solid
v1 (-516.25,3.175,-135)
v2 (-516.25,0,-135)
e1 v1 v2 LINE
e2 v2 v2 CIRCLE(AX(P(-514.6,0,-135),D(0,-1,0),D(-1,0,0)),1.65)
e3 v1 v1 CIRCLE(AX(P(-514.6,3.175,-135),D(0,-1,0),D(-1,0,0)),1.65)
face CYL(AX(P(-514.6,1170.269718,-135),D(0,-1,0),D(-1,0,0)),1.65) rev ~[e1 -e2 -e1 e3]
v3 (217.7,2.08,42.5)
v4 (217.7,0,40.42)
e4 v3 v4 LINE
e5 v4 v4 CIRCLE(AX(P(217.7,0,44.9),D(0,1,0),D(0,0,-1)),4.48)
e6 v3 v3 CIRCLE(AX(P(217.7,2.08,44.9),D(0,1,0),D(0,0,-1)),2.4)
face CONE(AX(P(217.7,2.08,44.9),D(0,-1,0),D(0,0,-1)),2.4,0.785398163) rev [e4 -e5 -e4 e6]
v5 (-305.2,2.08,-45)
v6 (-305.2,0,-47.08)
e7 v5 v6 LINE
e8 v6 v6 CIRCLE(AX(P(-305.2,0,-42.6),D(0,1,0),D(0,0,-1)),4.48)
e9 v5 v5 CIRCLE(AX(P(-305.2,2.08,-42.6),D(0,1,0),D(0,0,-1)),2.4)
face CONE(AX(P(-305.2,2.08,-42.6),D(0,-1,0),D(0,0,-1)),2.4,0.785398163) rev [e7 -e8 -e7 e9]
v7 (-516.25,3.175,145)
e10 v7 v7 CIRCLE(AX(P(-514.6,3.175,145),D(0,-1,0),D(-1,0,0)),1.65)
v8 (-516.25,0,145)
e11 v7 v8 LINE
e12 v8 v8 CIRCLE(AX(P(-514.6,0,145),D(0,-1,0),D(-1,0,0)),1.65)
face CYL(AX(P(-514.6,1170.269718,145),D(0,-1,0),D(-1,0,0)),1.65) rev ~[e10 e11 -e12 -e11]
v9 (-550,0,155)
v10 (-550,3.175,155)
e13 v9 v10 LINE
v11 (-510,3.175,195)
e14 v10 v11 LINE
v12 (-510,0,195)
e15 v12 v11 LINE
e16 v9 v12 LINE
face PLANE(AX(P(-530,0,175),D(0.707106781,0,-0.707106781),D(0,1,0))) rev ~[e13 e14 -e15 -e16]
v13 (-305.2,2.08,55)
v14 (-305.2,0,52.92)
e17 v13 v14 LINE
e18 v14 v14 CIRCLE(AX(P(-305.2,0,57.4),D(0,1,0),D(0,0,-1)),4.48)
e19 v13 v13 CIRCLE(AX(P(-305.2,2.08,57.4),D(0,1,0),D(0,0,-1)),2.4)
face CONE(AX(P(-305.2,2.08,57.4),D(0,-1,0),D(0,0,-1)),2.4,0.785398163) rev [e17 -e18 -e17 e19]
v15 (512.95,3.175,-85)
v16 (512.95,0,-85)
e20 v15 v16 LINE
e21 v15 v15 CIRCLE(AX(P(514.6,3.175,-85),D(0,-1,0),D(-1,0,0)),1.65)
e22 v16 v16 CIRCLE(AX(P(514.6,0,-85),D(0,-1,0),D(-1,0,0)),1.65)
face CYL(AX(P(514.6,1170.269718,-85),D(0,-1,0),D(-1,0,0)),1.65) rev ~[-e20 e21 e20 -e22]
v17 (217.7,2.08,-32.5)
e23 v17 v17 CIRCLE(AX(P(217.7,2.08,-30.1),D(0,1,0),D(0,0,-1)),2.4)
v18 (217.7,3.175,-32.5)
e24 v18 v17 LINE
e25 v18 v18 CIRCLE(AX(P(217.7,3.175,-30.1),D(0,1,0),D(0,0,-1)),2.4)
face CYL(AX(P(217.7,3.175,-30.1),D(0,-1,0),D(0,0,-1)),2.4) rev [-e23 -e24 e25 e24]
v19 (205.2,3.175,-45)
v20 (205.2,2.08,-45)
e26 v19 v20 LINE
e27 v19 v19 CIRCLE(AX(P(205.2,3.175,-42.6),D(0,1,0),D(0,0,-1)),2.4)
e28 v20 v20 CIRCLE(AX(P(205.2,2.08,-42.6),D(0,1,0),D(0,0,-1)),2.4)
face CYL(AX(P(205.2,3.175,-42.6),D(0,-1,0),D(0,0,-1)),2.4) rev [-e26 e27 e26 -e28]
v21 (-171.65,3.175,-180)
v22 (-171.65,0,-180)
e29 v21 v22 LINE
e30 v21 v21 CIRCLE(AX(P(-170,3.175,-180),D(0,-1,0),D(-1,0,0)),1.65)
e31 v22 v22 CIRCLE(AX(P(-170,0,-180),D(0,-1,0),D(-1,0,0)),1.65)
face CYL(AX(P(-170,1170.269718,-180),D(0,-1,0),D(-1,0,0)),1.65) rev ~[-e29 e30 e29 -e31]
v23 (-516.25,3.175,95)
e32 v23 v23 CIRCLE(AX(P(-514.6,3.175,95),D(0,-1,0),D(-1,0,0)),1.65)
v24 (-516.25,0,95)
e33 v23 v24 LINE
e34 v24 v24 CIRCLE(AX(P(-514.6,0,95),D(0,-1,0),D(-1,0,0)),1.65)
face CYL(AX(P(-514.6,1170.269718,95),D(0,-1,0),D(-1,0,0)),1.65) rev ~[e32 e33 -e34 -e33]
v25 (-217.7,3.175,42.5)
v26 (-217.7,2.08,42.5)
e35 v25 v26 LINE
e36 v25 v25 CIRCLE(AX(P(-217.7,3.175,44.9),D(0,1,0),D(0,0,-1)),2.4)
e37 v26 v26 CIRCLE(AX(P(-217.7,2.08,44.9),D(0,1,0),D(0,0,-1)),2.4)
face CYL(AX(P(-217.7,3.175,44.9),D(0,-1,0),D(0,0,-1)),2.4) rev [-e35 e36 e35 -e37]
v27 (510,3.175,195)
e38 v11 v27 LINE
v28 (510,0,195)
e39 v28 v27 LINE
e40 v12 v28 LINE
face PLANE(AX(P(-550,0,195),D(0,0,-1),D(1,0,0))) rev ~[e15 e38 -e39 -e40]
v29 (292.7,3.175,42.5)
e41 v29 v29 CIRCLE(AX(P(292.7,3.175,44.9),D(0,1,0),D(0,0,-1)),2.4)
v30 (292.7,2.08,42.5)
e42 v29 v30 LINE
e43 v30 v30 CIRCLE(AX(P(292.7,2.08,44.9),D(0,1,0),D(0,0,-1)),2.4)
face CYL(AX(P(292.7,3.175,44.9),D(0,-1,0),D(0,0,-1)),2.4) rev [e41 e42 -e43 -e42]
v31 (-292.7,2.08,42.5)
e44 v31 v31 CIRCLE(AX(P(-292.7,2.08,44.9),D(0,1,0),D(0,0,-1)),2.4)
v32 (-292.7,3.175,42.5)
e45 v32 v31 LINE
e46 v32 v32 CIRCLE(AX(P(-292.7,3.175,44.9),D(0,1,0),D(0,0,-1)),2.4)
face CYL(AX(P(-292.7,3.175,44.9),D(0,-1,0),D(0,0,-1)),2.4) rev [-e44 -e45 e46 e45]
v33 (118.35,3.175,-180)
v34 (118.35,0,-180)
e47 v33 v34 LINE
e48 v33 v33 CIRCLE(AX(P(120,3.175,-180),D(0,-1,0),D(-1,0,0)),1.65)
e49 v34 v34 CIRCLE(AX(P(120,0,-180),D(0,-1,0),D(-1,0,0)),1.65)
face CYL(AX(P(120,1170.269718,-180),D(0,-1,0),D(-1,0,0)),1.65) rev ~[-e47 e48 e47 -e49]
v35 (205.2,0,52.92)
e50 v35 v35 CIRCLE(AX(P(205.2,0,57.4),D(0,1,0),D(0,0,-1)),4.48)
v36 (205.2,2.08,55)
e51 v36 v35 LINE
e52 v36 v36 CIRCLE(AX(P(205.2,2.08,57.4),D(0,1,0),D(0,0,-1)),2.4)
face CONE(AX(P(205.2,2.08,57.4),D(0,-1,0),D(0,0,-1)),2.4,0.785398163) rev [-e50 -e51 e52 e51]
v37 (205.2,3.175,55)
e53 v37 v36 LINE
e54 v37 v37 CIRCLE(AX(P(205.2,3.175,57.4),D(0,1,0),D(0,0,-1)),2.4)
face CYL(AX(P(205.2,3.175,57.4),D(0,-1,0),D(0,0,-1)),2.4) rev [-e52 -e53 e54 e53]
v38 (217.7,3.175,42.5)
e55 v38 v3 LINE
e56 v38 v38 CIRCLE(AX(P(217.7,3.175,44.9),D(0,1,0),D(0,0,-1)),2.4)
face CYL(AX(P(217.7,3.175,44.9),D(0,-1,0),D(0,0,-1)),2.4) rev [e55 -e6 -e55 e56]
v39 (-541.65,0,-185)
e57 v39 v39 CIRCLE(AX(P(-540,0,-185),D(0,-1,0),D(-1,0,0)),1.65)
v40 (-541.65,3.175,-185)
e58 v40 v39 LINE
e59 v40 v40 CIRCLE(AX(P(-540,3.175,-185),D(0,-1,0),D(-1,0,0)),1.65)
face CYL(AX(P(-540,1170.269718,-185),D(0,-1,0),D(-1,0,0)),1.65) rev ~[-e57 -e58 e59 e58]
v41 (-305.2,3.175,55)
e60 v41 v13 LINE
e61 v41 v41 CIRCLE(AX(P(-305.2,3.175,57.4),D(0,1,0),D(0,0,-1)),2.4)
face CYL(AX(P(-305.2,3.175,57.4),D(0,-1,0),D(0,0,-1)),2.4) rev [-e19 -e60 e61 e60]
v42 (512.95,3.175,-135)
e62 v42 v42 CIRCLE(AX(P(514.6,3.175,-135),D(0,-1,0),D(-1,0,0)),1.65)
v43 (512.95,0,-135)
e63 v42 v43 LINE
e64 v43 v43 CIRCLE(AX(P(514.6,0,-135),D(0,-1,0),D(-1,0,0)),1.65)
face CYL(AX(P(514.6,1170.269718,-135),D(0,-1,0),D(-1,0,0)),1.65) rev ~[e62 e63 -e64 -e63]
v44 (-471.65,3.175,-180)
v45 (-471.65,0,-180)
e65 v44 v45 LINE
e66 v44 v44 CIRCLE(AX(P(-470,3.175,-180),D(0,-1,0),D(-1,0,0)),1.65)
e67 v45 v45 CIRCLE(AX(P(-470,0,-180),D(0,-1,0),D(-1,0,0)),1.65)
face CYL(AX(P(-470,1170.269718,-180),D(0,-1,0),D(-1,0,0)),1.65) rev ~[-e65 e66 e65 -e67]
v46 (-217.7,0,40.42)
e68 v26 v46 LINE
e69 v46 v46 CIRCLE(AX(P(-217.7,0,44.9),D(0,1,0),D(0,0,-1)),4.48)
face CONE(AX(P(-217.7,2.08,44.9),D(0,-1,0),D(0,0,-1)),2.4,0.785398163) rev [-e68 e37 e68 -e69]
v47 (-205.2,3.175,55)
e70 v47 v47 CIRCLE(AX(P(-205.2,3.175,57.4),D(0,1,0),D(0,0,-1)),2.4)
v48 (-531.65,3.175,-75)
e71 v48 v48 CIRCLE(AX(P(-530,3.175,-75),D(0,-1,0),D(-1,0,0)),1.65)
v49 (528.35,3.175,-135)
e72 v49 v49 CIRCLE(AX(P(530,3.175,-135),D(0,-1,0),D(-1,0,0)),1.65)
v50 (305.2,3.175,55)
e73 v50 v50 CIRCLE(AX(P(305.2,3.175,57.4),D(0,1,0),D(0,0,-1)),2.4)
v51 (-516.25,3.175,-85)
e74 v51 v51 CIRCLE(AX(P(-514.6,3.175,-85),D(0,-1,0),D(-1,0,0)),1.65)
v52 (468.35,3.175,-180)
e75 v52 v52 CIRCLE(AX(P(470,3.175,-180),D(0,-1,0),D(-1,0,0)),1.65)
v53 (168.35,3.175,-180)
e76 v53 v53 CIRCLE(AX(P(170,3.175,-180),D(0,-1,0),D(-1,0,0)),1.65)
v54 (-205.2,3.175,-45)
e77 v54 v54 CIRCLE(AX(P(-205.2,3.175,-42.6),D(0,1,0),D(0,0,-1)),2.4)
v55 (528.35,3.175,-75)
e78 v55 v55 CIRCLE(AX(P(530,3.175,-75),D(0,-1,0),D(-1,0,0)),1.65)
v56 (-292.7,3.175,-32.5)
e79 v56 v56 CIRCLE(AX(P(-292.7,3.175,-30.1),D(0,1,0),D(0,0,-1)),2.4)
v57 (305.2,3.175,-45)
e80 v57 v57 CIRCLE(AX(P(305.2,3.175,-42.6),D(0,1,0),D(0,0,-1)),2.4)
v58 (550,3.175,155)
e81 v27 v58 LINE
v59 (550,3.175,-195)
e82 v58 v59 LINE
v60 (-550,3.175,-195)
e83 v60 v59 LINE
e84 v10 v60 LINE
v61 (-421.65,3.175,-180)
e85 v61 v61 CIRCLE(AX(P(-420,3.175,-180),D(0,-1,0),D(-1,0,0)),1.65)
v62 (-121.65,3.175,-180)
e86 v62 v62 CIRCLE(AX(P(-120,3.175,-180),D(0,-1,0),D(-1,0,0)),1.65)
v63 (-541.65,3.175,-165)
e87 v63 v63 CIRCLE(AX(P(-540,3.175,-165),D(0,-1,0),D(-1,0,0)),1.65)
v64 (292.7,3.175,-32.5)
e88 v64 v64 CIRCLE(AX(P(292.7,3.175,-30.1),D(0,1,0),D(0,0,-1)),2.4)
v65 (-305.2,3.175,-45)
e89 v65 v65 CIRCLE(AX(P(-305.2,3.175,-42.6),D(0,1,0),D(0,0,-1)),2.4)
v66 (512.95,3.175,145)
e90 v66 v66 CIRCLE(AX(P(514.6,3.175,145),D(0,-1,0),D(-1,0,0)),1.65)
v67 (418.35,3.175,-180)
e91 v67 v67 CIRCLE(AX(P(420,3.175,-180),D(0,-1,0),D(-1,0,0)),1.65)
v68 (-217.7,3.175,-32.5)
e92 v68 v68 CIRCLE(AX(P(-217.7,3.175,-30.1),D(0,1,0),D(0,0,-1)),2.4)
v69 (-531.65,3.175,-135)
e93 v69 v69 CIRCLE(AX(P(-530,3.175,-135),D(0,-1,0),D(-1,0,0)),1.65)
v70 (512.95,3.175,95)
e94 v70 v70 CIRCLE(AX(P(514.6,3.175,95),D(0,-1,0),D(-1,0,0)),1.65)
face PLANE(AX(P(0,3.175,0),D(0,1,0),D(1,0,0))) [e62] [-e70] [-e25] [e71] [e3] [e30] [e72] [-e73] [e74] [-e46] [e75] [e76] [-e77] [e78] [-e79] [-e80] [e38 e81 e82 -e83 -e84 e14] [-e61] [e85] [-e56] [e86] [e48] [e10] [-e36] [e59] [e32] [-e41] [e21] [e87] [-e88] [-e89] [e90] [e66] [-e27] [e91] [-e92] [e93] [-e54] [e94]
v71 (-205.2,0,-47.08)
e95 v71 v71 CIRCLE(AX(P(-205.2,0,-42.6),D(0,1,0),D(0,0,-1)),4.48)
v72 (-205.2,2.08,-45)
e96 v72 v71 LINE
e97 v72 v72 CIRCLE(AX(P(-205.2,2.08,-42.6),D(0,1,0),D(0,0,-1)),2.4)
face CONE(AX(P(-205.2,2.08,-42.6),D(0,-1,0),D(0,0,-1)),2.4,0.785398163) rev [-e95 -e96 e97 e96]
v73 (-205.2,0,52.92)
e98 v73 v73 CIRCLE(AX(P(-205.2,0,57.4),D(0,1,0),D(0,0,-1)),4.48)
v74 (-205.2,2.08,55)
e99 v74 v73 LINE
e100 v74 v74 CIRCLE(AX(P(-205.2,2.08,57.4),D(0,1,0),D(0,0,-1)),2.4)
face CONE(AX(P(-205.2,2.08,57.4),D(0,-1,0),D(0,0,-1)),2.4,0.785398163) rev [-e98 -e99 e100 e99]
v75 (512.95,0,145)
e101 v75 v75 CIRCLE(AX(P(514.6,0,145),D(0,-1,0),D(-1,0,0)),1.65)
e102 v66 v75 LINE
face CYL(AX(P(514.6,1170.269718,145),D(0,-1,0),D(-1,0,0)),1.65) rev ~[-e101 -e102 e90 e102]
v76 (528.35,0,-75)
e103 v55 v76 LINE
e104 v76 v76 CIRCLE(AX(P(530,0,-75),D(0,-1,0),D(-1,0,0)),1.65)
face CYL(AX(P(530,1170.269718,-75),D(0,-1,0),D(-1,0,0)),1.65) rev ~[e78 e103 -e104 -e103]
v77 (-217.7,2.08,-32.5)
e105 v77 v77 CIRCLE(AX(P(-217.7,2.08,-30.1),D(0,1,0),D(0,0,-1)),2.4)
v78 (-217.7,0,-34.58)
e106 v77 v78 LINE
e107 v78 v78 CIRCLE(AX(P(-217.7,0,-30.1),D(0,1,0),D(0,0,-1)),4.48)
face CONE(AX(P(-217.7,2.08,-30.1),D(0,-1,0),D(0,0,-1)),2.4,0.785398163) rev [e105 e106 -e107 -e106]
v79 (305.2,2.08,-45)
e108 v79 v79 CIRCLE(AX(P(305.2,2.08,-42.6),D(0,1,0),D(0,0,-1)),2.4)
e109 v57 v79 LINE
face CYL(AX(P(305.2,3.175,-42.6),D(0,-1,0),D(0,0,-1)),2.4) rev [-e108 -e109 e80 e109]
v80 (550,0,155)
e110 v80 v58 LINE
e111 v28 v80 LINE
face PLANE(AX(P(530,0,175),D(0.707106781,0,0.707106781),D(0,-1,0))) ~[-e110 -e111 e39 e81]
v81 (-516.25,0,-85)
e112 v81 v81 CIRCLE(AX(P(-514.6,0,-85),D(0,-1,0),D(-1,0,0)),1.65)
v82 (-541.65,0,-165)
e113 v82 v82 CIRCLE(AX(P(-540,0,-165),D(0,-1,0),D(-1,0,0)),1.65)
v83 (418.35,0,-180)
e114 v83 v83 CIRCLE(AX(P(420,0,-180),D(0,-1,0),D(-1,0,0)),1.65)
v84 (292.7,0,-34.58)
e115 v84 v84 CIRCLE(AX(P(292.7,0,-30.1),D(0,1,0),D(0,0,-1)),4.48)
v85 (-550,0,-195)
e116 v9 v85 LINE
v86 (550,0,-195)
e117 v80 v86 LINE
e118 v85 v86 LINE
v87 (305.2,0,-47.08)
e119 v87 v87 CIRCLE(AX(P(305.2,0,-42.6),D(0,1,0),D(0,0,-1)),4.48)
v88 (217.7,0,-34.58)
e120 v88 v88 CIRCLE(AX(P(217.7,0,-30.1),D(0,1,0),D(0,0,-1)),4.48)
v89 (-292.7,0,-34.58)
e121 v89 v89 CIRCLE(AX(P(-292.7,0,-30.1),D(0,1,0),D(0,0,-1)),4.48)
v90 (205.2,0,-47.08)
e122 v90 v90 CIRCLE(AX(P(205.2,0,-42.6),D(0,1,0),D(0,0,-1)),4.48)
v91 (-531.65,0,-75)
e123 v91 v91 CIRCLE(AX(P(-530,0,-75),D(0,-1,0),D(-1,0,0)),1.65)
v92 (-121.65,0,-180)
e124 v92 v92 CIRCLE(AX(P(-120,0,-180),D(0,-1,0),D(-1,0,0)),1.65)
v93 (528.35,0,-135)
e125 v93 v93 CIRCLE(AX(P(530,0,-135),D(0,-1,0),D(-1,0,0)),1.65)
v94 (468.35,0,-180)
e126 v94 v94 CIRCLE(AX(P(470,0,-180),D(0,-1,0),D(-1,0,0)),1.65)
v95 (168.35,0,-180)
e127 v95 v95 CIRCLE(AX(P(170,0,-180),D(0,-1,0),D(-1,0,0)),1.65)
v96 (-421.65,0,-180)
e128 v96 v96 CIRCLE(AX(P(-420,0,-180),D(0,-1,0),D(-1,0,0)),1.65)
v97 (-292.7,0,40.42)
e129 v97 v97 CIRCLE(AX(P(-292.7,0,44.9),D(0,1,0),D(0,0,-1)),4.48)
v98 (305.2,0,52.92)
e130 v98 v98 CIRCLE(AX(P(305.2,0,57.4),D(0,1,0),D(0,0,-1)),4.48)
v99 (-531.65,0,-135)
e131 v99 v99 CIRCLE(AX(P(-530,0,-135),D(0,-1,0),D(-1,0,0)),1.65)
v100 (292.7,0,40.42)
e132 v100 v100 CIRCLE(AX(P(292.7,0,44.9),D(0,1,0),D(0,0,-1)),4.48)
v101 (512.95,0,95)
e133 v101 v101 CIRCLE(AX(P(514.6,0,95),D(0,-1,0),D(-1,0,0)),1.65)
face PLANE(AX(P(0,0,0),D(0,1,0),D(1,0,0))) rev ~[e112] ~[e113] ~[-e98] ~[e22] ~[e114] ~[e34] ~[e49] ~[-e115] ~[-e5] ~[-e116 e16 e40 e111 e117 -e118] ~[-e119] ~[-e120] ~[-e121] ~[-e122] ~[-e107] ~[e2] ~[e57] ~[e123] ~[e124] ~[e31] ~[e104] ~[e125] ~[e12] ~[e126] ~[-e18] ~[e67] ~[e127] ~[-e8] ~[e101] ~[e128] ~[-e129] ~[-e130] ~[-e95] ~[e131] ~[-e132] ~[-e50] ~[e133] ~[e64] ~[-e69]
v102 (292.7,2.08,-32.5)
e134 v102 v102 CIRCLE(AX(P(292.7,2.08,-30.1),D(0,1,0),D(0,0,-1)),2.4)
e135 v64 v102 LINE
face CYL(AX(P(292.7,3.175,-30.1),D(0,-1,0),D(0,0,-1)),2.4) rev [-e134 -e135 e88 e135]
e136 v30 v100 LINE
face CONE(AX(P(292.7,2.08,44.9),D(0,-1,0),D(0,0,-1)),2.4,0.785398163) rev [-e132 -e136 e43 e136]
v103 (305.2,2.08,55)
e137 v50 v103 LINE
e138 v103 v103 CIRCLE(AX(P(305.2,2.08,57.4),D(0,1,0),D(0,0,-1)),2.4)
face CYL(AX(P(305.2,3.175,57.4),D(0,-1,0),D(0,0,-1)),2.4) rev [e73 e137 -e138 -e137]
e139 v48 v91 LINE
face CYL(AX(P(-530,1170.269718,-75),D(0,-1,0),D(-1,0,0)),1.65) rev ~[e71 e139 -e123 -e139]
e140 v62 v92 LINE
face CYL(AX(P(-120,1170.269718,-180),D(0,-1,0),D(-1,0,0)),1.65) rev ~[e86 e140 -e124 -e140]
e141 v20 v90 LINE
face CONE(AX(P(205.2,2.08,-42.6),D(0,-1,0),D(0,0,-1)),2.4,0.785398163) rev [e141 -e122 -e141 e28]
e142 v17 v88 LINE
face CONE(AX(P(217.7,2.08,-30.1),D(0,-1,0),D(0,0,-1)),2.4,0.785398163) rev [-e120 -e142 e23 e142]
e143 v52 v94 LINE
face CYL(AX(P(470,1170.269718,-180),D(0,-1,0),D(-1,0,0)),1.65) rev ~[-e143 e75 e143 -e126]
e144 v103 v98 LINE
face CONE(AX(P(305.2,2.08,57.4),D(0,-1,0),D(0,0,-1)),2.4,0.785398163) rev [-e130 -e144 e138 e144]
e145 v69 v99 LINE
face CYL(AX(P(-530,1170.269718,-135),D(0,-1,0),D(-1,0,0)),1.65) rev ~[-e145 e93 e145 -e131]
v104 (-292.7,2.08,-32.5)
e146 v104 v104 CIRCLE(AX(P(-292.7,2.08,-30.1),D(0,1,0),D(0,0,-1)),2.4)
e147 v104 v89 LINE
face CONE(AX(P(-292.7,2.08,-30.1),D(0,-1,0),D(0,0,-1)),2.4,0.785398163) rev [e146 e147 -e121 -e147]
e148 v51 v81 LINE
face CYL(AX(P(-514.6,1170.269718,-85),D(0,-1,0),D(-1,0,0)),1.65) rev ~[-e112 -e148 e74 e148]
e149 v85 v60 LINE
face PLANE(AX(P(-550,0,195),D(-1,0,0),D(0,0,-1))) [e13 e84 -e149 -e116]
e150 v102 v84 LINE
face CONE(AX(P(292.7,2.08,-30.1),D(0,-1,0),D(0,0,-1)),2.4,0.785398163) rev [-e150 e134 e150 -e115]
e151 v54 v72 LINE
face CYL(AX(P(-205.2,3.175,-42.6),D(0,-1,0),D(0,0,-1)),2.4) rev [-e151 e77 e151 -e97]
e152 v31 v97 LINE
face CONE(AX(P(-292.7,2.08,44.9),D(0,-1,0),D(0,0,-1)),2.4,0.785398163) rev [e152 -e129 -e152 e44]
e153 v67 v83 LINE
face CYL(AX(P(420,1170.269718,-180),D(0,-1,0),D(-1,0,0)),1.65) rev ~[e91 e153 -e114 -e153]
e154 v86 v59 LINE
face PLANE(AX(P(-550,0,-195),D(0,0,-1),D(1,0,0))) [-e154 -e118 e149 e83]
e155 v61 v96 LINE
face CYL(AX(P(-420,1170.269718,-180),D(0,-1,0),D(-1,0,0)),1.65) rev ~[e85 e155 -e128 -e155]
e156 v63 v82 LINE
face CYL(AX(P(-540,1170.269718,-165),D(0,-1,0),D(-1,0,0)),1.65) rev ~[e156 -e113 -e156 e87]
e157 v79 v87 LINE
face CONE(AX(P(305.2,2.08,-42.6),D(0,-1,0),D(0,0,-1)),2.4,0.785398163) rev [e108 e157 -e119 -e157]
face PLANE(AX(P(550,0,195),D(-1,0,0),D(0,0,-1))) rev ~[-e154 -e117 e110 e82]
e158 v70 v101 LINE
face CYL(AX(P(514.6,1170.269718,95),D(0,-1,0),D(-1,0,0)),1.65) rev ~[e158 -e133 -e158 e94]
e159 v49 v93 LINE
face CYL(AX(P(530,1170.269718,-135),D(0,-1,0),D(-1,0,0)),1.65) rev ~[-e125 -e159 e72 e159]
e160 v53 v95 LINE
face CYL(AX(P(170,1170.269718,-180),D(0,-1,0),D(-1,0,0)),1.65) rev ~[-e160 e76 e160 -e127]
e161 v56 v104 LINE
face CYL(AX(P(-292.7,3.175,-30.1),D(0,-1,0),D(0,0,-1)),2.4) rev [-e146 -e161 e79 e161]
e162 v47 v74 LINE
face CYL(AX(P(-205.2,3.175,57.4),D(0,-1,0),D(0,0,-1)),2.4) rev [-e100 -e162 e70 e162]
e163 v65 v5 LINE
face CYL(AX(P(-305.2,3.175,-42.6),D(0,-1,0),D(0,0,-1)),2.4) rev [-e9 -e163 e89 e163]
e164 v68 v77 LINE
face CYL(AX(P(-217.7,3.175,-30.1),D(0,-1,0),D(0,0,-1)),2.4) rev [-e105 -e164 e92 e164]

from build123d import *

# Parameters (mm, degrees)
SKETCH1_W                 = 1100
SKETCH1_H                 = 390
PLATE_DEPTH               = 3.175
MONITOR_HOLES_AT_2_COUNT  = 2
MONITOR_HOLES_AT_2_PITCH  = 106.066017178
MONITOR_HOLES_AT_3_COUNT  = 2
MONITOR_HOLES_AT_3_PITCH  = 75
MONITOR_HOLES_AT_4_COUNT  = 2
MONITOR_HOLES_AT_4_PITCH  = 75
MONITOR_HOLES_AT_5_COUNT  = 2
MONITOR_HOLES_AT_5_PITCH  = 17.67766953
MONITOR_HOLES_AT_6_COUNT  = 2
MONITOR_HOLES_AT_6_PITCH  = 123.743686708
MONITOR_HOLES_AT_7_COUNT  = 2
MONITOR_HOLES_AT_7_PITCH  = 88.388347648
MONITOR_HOLES_AT_8_COUNT  = 2
MONITOR_HOLES_AT_8_PITCH  = 88.388347648
MONITOR_HOLES_AT_9_COUNT  = 2
MONITOR_HOLES_AT_9_PITCH  = 510.4
MONITOR_HOLES_AT_10_COUNT = 2
MONITOR_HOLES_AT_10_PITCH = 435.4
MONITOR_HOLES_AT_11_COUNT = 2
MONITOR_HOLES_AT_11_PITCH = 515.88095526
MONITOR_HOLES_AT_12_COUNT = 2
MONITOR_HOLES_AT_12_PITCH = 441.81235836
MONITOR_HOLES_AT_13_COUNT = 2
MONITOR_HOLES_AT_13_PITCH = 530.170406568
MONITOR_HOLES_AT_14_COUNT = 2
MONITOR_HOLES_AT_14_PITCH = 431.857221776
MONITOR_HOLES_AT_15_COUNT = 2
MONITOR_HOLES_AT_15_PITCH = 523.049385814
MONITOR_HOLES_AT_16_COUNT = 2
MONITOR_HOLES_AT_16_PITCH = 423.084696013
STRUT_HOLES_D             = 3.3
GLARE_PROTECTOR_HOLES_D   = 3.3
CHAMFER1_SIZE             = 40
ANTENNA_HOLES_D           = 3.3


with BuildPart() as part:
    # Sketch1 → Plate (new body)
    with BuildSketch(Plane(origin=(0, 0, 0), x_dir=(1, 0, 0), z_dir=(0, 1, 0))):
        Rectangle(SKETCH1_W, SKETCH1_H)
    extrude(amount=PLATE_DEPTH)

    # Sketch7 → Monitor Holes (revolve, cut)
    with BuildSketch(Plane(origin=(217.7, 0, -30.1), x_dir=(0, 0, -1), z_dir=(1, 0, 0))):
        Polygon((0, 0), (0, 3.175), (2.4, 3.175), (2.4, 2.08), (4.48, 0), align=None)
    monitor_holes = revolve(axis=Axis((217.7, -6.35, -30.1), (0, 1, 0)), mode=Mode.SUBTRACT)

    # Monitor Holes at 2: Monitor Holes ×2
    with Locations(*[Vector(0.7071067811865477, 0, 0.7071067811865474) * (i * MONITOR_HOLES_AT_2_PITCH) for i in range(1, MONITOR_HOLES_AT_2_COUNT)]):
        add(monitor_holes, mode=Mode.SUBTRACT)

    # Monitor Holes at 3: Monitor Holes ×2
    with Locations(*[(i * MONITOR_HOLES_AT_3_PITCH, 0, 0) for i in range(1, MONITOR_HOLES_AT_3_COUNT)]):
        add(monitor_holes, mode=Mode.SUBTRACT)

    # Monitor Holes at 4: Monitor Holes ×2
    with Locations(*[(0, 0, i * MONITOR_HOLES_AT_4_PITCH) for i in range(1, MONITOR_HOLES_AT_4_COUNT)]):
        add(monitor_holes, mode=Mode.SUBTRACT)

    # Monitor Holes at 5: Monitor Holes ×2
    with Locations(*[Vector(-0.7071067811865468, 0, -0.7071067811865483) * (i * MONITOR_HOLES_AT_5_PITCH) for i in range(1, MONITOR_HOLES_AT_5_COUNT)]):
        add(monitor_holes, mode=Mode.SUBTRACT)

    # Monitor Holes at 6: Monitor Holes ×2
    with Locations(*[Vector(0.7071067811865478, 0, 0.7071067811865474) * (i * MONITOR_HOLES_AT_6_PITCH) for i in range(1, MONITOR_HOLES_AT_6_COUNT)]):
        add(monitor_holes, mode=Mode.SUBTRACT)

    # Monitor Holes at 7: Monitor Holes ×2
    with Locations(*[Vector(0.9899494936611666, 0, -0.1414213562373094) * (i * MONITOR_HOLES_AT_7_PITCH) for i in range(1, MONITOR_HOLES_AT_7_COUNT)]):
        add(monitor_holes, mode=Mode.SUBTRACT)

    # Monitor Holes at 8: Monitor Holes ×2
    with Locations(*[Vector(-0.14142135623730914, 0, 0.9899494936611667) * (i * MONITOR_HOLES_AT_8_PITCH) for i in range(1, MONITOR_HOLES_AT_8_COUNT)]):
        add(monitor_holes, mode=Mode.SUBTRACT)

    # Monitor Holes at 9: Monitor Holes ×2
    with Locations(*[(-i * MONITOR_HOLES_AT_9_PITCH, 0, 0) for i in range(1, MONITOR_HOLES_AT_9_COUNT)]):
        add(monitor_holes, mode=Mode.SUBTRACT)

    # Monitor Holes at 10: Monitor Holes ×2
    with Locations(*[(-i * MONITOR_HOLES_AT_10_PITCH, 0, 0) for i in range(1, MONITOR_HOLES_AT_10_COUNT)]):
        add(monitor_holes, mode=Mode.SUBTRACT)

    # Monitor Holes at 11: Monitor Holes ×2
    with Locations(*[Vector(-0.989375542546892, 0, 0.14538237792127132) * (i * MONITOR_HOLES_AT_11_PITCH) for i in range(1, MONITOR_HOLES_AT_11_COUNT)]):
        add(monitor_holes, mode=Mode.SUBTRACT)

    # Monitor Holes at 12: Monitor Holes ×2
    with Locations(*[Vector(-0.9854862403934994, 0, 0.16975532390792936) * (i * MONITOR_HOLES_AT_12_PITCH) for i in range(1, MONITOR_HOLES_AT_12_COUNT)]):
        add(monitor_holes, mode=Mode.SUBTRACT)

    # Monitor Holes at 13: Monitor Holes ×2
    with Locations(*[Vector(-0.9862866608971649, 0, 0.16504127525052958) * (i * MONITOR_HOLES_AT_13_PITCH) for i in range(1, MONITOR_HOLES_AT_13_COUNT)]):
        add(monitor_holes, mode=Mode.SUBTRACT)

    # Monitor Holes at 14: Monitor Holes ×2
    with Locations(*[Vector(-0.9792588352718359, 0, 0.2026132610221935) * (i * MONITOR_HOLES_AT_14_PITCH) for i in range(1, MONITOR_HOLES_AT_14_COUNT)]):
        add(monitor_holes, mode=Mode.SUBTRACT)

    # Monitor Holes at 15: Monitor Holes ×2
    with Locations(*[Vector(-0.9997143944383325, 0, -0.023898316944882675) * (i * MONITOR_HOLES_AT_15_PITCH) for i in range(1, MONITOR_HOLES_AT_15_COUNT)]):
        add(monitor_holes, mode=Mode.SUBTRACT)

    # Monitor Holes at 16: Monitor Holes ×2
    with Locations(*[Vector(-0.9995634538090055, 0, -0.029544911734718758) * (i * MONITOR_HOLES_AT_16_PITCH) for i in range(1, MONITOR_HOLES_AT_16_COUNT)]):
        add(monitor_holes, mode=Mode.SUBTRACT)

    # Strut Holes (through all)
    with Locations(Plane(origin=(0, 3.175, 0), x_dir=(1, 0, 0), z_dir=(0, 1, 0))):
        with Locations((-530, 135), (-530, 75), (530, 135), (530, 75)):
            Hole(STRUT_HOLES_D / 2)

    # Glare Protector Holes (through all)
    with Locations(Plane(origin=(0, 3.175, 0), x_dir=(1, 0, 0), z_dir=(0, 1, 0))):
        with Locations((-514.6, 135), (-514.6, 85), (-514.6, -145), (-514.6, -95), (-470, 180), (-420, 180), (-170, 180), (-120, 180), (420, 180), (470, 180), (120, 180), (170, 180), (514.6, 135), (514.6, 85), (514.6, -145), (514.6, -95)):
            Hole(GLARE_PROTECTOR_HOLES_D / 2)

    # Chamfer1
    chamfer1_edges = [part.edges().sort_by_distance(p)[0] for p in [
        (550, 1.5875, 195),
        (-550, 1.5875, 195),
    ]]
    chamfer(chamfer1_edges, length=CHAMFER1_SIZE)

    # Antenna Holes (through all)
    with Locations(Plane(origin=(0, 3.175, 0), x_dir=(1, 0, 0), z_dir=(0, 1, 0))):
        with Locations((-540, 165), (-540, 185)):
            Hole(ANTENNA_HOLES_D / 2)


solid = part.part
